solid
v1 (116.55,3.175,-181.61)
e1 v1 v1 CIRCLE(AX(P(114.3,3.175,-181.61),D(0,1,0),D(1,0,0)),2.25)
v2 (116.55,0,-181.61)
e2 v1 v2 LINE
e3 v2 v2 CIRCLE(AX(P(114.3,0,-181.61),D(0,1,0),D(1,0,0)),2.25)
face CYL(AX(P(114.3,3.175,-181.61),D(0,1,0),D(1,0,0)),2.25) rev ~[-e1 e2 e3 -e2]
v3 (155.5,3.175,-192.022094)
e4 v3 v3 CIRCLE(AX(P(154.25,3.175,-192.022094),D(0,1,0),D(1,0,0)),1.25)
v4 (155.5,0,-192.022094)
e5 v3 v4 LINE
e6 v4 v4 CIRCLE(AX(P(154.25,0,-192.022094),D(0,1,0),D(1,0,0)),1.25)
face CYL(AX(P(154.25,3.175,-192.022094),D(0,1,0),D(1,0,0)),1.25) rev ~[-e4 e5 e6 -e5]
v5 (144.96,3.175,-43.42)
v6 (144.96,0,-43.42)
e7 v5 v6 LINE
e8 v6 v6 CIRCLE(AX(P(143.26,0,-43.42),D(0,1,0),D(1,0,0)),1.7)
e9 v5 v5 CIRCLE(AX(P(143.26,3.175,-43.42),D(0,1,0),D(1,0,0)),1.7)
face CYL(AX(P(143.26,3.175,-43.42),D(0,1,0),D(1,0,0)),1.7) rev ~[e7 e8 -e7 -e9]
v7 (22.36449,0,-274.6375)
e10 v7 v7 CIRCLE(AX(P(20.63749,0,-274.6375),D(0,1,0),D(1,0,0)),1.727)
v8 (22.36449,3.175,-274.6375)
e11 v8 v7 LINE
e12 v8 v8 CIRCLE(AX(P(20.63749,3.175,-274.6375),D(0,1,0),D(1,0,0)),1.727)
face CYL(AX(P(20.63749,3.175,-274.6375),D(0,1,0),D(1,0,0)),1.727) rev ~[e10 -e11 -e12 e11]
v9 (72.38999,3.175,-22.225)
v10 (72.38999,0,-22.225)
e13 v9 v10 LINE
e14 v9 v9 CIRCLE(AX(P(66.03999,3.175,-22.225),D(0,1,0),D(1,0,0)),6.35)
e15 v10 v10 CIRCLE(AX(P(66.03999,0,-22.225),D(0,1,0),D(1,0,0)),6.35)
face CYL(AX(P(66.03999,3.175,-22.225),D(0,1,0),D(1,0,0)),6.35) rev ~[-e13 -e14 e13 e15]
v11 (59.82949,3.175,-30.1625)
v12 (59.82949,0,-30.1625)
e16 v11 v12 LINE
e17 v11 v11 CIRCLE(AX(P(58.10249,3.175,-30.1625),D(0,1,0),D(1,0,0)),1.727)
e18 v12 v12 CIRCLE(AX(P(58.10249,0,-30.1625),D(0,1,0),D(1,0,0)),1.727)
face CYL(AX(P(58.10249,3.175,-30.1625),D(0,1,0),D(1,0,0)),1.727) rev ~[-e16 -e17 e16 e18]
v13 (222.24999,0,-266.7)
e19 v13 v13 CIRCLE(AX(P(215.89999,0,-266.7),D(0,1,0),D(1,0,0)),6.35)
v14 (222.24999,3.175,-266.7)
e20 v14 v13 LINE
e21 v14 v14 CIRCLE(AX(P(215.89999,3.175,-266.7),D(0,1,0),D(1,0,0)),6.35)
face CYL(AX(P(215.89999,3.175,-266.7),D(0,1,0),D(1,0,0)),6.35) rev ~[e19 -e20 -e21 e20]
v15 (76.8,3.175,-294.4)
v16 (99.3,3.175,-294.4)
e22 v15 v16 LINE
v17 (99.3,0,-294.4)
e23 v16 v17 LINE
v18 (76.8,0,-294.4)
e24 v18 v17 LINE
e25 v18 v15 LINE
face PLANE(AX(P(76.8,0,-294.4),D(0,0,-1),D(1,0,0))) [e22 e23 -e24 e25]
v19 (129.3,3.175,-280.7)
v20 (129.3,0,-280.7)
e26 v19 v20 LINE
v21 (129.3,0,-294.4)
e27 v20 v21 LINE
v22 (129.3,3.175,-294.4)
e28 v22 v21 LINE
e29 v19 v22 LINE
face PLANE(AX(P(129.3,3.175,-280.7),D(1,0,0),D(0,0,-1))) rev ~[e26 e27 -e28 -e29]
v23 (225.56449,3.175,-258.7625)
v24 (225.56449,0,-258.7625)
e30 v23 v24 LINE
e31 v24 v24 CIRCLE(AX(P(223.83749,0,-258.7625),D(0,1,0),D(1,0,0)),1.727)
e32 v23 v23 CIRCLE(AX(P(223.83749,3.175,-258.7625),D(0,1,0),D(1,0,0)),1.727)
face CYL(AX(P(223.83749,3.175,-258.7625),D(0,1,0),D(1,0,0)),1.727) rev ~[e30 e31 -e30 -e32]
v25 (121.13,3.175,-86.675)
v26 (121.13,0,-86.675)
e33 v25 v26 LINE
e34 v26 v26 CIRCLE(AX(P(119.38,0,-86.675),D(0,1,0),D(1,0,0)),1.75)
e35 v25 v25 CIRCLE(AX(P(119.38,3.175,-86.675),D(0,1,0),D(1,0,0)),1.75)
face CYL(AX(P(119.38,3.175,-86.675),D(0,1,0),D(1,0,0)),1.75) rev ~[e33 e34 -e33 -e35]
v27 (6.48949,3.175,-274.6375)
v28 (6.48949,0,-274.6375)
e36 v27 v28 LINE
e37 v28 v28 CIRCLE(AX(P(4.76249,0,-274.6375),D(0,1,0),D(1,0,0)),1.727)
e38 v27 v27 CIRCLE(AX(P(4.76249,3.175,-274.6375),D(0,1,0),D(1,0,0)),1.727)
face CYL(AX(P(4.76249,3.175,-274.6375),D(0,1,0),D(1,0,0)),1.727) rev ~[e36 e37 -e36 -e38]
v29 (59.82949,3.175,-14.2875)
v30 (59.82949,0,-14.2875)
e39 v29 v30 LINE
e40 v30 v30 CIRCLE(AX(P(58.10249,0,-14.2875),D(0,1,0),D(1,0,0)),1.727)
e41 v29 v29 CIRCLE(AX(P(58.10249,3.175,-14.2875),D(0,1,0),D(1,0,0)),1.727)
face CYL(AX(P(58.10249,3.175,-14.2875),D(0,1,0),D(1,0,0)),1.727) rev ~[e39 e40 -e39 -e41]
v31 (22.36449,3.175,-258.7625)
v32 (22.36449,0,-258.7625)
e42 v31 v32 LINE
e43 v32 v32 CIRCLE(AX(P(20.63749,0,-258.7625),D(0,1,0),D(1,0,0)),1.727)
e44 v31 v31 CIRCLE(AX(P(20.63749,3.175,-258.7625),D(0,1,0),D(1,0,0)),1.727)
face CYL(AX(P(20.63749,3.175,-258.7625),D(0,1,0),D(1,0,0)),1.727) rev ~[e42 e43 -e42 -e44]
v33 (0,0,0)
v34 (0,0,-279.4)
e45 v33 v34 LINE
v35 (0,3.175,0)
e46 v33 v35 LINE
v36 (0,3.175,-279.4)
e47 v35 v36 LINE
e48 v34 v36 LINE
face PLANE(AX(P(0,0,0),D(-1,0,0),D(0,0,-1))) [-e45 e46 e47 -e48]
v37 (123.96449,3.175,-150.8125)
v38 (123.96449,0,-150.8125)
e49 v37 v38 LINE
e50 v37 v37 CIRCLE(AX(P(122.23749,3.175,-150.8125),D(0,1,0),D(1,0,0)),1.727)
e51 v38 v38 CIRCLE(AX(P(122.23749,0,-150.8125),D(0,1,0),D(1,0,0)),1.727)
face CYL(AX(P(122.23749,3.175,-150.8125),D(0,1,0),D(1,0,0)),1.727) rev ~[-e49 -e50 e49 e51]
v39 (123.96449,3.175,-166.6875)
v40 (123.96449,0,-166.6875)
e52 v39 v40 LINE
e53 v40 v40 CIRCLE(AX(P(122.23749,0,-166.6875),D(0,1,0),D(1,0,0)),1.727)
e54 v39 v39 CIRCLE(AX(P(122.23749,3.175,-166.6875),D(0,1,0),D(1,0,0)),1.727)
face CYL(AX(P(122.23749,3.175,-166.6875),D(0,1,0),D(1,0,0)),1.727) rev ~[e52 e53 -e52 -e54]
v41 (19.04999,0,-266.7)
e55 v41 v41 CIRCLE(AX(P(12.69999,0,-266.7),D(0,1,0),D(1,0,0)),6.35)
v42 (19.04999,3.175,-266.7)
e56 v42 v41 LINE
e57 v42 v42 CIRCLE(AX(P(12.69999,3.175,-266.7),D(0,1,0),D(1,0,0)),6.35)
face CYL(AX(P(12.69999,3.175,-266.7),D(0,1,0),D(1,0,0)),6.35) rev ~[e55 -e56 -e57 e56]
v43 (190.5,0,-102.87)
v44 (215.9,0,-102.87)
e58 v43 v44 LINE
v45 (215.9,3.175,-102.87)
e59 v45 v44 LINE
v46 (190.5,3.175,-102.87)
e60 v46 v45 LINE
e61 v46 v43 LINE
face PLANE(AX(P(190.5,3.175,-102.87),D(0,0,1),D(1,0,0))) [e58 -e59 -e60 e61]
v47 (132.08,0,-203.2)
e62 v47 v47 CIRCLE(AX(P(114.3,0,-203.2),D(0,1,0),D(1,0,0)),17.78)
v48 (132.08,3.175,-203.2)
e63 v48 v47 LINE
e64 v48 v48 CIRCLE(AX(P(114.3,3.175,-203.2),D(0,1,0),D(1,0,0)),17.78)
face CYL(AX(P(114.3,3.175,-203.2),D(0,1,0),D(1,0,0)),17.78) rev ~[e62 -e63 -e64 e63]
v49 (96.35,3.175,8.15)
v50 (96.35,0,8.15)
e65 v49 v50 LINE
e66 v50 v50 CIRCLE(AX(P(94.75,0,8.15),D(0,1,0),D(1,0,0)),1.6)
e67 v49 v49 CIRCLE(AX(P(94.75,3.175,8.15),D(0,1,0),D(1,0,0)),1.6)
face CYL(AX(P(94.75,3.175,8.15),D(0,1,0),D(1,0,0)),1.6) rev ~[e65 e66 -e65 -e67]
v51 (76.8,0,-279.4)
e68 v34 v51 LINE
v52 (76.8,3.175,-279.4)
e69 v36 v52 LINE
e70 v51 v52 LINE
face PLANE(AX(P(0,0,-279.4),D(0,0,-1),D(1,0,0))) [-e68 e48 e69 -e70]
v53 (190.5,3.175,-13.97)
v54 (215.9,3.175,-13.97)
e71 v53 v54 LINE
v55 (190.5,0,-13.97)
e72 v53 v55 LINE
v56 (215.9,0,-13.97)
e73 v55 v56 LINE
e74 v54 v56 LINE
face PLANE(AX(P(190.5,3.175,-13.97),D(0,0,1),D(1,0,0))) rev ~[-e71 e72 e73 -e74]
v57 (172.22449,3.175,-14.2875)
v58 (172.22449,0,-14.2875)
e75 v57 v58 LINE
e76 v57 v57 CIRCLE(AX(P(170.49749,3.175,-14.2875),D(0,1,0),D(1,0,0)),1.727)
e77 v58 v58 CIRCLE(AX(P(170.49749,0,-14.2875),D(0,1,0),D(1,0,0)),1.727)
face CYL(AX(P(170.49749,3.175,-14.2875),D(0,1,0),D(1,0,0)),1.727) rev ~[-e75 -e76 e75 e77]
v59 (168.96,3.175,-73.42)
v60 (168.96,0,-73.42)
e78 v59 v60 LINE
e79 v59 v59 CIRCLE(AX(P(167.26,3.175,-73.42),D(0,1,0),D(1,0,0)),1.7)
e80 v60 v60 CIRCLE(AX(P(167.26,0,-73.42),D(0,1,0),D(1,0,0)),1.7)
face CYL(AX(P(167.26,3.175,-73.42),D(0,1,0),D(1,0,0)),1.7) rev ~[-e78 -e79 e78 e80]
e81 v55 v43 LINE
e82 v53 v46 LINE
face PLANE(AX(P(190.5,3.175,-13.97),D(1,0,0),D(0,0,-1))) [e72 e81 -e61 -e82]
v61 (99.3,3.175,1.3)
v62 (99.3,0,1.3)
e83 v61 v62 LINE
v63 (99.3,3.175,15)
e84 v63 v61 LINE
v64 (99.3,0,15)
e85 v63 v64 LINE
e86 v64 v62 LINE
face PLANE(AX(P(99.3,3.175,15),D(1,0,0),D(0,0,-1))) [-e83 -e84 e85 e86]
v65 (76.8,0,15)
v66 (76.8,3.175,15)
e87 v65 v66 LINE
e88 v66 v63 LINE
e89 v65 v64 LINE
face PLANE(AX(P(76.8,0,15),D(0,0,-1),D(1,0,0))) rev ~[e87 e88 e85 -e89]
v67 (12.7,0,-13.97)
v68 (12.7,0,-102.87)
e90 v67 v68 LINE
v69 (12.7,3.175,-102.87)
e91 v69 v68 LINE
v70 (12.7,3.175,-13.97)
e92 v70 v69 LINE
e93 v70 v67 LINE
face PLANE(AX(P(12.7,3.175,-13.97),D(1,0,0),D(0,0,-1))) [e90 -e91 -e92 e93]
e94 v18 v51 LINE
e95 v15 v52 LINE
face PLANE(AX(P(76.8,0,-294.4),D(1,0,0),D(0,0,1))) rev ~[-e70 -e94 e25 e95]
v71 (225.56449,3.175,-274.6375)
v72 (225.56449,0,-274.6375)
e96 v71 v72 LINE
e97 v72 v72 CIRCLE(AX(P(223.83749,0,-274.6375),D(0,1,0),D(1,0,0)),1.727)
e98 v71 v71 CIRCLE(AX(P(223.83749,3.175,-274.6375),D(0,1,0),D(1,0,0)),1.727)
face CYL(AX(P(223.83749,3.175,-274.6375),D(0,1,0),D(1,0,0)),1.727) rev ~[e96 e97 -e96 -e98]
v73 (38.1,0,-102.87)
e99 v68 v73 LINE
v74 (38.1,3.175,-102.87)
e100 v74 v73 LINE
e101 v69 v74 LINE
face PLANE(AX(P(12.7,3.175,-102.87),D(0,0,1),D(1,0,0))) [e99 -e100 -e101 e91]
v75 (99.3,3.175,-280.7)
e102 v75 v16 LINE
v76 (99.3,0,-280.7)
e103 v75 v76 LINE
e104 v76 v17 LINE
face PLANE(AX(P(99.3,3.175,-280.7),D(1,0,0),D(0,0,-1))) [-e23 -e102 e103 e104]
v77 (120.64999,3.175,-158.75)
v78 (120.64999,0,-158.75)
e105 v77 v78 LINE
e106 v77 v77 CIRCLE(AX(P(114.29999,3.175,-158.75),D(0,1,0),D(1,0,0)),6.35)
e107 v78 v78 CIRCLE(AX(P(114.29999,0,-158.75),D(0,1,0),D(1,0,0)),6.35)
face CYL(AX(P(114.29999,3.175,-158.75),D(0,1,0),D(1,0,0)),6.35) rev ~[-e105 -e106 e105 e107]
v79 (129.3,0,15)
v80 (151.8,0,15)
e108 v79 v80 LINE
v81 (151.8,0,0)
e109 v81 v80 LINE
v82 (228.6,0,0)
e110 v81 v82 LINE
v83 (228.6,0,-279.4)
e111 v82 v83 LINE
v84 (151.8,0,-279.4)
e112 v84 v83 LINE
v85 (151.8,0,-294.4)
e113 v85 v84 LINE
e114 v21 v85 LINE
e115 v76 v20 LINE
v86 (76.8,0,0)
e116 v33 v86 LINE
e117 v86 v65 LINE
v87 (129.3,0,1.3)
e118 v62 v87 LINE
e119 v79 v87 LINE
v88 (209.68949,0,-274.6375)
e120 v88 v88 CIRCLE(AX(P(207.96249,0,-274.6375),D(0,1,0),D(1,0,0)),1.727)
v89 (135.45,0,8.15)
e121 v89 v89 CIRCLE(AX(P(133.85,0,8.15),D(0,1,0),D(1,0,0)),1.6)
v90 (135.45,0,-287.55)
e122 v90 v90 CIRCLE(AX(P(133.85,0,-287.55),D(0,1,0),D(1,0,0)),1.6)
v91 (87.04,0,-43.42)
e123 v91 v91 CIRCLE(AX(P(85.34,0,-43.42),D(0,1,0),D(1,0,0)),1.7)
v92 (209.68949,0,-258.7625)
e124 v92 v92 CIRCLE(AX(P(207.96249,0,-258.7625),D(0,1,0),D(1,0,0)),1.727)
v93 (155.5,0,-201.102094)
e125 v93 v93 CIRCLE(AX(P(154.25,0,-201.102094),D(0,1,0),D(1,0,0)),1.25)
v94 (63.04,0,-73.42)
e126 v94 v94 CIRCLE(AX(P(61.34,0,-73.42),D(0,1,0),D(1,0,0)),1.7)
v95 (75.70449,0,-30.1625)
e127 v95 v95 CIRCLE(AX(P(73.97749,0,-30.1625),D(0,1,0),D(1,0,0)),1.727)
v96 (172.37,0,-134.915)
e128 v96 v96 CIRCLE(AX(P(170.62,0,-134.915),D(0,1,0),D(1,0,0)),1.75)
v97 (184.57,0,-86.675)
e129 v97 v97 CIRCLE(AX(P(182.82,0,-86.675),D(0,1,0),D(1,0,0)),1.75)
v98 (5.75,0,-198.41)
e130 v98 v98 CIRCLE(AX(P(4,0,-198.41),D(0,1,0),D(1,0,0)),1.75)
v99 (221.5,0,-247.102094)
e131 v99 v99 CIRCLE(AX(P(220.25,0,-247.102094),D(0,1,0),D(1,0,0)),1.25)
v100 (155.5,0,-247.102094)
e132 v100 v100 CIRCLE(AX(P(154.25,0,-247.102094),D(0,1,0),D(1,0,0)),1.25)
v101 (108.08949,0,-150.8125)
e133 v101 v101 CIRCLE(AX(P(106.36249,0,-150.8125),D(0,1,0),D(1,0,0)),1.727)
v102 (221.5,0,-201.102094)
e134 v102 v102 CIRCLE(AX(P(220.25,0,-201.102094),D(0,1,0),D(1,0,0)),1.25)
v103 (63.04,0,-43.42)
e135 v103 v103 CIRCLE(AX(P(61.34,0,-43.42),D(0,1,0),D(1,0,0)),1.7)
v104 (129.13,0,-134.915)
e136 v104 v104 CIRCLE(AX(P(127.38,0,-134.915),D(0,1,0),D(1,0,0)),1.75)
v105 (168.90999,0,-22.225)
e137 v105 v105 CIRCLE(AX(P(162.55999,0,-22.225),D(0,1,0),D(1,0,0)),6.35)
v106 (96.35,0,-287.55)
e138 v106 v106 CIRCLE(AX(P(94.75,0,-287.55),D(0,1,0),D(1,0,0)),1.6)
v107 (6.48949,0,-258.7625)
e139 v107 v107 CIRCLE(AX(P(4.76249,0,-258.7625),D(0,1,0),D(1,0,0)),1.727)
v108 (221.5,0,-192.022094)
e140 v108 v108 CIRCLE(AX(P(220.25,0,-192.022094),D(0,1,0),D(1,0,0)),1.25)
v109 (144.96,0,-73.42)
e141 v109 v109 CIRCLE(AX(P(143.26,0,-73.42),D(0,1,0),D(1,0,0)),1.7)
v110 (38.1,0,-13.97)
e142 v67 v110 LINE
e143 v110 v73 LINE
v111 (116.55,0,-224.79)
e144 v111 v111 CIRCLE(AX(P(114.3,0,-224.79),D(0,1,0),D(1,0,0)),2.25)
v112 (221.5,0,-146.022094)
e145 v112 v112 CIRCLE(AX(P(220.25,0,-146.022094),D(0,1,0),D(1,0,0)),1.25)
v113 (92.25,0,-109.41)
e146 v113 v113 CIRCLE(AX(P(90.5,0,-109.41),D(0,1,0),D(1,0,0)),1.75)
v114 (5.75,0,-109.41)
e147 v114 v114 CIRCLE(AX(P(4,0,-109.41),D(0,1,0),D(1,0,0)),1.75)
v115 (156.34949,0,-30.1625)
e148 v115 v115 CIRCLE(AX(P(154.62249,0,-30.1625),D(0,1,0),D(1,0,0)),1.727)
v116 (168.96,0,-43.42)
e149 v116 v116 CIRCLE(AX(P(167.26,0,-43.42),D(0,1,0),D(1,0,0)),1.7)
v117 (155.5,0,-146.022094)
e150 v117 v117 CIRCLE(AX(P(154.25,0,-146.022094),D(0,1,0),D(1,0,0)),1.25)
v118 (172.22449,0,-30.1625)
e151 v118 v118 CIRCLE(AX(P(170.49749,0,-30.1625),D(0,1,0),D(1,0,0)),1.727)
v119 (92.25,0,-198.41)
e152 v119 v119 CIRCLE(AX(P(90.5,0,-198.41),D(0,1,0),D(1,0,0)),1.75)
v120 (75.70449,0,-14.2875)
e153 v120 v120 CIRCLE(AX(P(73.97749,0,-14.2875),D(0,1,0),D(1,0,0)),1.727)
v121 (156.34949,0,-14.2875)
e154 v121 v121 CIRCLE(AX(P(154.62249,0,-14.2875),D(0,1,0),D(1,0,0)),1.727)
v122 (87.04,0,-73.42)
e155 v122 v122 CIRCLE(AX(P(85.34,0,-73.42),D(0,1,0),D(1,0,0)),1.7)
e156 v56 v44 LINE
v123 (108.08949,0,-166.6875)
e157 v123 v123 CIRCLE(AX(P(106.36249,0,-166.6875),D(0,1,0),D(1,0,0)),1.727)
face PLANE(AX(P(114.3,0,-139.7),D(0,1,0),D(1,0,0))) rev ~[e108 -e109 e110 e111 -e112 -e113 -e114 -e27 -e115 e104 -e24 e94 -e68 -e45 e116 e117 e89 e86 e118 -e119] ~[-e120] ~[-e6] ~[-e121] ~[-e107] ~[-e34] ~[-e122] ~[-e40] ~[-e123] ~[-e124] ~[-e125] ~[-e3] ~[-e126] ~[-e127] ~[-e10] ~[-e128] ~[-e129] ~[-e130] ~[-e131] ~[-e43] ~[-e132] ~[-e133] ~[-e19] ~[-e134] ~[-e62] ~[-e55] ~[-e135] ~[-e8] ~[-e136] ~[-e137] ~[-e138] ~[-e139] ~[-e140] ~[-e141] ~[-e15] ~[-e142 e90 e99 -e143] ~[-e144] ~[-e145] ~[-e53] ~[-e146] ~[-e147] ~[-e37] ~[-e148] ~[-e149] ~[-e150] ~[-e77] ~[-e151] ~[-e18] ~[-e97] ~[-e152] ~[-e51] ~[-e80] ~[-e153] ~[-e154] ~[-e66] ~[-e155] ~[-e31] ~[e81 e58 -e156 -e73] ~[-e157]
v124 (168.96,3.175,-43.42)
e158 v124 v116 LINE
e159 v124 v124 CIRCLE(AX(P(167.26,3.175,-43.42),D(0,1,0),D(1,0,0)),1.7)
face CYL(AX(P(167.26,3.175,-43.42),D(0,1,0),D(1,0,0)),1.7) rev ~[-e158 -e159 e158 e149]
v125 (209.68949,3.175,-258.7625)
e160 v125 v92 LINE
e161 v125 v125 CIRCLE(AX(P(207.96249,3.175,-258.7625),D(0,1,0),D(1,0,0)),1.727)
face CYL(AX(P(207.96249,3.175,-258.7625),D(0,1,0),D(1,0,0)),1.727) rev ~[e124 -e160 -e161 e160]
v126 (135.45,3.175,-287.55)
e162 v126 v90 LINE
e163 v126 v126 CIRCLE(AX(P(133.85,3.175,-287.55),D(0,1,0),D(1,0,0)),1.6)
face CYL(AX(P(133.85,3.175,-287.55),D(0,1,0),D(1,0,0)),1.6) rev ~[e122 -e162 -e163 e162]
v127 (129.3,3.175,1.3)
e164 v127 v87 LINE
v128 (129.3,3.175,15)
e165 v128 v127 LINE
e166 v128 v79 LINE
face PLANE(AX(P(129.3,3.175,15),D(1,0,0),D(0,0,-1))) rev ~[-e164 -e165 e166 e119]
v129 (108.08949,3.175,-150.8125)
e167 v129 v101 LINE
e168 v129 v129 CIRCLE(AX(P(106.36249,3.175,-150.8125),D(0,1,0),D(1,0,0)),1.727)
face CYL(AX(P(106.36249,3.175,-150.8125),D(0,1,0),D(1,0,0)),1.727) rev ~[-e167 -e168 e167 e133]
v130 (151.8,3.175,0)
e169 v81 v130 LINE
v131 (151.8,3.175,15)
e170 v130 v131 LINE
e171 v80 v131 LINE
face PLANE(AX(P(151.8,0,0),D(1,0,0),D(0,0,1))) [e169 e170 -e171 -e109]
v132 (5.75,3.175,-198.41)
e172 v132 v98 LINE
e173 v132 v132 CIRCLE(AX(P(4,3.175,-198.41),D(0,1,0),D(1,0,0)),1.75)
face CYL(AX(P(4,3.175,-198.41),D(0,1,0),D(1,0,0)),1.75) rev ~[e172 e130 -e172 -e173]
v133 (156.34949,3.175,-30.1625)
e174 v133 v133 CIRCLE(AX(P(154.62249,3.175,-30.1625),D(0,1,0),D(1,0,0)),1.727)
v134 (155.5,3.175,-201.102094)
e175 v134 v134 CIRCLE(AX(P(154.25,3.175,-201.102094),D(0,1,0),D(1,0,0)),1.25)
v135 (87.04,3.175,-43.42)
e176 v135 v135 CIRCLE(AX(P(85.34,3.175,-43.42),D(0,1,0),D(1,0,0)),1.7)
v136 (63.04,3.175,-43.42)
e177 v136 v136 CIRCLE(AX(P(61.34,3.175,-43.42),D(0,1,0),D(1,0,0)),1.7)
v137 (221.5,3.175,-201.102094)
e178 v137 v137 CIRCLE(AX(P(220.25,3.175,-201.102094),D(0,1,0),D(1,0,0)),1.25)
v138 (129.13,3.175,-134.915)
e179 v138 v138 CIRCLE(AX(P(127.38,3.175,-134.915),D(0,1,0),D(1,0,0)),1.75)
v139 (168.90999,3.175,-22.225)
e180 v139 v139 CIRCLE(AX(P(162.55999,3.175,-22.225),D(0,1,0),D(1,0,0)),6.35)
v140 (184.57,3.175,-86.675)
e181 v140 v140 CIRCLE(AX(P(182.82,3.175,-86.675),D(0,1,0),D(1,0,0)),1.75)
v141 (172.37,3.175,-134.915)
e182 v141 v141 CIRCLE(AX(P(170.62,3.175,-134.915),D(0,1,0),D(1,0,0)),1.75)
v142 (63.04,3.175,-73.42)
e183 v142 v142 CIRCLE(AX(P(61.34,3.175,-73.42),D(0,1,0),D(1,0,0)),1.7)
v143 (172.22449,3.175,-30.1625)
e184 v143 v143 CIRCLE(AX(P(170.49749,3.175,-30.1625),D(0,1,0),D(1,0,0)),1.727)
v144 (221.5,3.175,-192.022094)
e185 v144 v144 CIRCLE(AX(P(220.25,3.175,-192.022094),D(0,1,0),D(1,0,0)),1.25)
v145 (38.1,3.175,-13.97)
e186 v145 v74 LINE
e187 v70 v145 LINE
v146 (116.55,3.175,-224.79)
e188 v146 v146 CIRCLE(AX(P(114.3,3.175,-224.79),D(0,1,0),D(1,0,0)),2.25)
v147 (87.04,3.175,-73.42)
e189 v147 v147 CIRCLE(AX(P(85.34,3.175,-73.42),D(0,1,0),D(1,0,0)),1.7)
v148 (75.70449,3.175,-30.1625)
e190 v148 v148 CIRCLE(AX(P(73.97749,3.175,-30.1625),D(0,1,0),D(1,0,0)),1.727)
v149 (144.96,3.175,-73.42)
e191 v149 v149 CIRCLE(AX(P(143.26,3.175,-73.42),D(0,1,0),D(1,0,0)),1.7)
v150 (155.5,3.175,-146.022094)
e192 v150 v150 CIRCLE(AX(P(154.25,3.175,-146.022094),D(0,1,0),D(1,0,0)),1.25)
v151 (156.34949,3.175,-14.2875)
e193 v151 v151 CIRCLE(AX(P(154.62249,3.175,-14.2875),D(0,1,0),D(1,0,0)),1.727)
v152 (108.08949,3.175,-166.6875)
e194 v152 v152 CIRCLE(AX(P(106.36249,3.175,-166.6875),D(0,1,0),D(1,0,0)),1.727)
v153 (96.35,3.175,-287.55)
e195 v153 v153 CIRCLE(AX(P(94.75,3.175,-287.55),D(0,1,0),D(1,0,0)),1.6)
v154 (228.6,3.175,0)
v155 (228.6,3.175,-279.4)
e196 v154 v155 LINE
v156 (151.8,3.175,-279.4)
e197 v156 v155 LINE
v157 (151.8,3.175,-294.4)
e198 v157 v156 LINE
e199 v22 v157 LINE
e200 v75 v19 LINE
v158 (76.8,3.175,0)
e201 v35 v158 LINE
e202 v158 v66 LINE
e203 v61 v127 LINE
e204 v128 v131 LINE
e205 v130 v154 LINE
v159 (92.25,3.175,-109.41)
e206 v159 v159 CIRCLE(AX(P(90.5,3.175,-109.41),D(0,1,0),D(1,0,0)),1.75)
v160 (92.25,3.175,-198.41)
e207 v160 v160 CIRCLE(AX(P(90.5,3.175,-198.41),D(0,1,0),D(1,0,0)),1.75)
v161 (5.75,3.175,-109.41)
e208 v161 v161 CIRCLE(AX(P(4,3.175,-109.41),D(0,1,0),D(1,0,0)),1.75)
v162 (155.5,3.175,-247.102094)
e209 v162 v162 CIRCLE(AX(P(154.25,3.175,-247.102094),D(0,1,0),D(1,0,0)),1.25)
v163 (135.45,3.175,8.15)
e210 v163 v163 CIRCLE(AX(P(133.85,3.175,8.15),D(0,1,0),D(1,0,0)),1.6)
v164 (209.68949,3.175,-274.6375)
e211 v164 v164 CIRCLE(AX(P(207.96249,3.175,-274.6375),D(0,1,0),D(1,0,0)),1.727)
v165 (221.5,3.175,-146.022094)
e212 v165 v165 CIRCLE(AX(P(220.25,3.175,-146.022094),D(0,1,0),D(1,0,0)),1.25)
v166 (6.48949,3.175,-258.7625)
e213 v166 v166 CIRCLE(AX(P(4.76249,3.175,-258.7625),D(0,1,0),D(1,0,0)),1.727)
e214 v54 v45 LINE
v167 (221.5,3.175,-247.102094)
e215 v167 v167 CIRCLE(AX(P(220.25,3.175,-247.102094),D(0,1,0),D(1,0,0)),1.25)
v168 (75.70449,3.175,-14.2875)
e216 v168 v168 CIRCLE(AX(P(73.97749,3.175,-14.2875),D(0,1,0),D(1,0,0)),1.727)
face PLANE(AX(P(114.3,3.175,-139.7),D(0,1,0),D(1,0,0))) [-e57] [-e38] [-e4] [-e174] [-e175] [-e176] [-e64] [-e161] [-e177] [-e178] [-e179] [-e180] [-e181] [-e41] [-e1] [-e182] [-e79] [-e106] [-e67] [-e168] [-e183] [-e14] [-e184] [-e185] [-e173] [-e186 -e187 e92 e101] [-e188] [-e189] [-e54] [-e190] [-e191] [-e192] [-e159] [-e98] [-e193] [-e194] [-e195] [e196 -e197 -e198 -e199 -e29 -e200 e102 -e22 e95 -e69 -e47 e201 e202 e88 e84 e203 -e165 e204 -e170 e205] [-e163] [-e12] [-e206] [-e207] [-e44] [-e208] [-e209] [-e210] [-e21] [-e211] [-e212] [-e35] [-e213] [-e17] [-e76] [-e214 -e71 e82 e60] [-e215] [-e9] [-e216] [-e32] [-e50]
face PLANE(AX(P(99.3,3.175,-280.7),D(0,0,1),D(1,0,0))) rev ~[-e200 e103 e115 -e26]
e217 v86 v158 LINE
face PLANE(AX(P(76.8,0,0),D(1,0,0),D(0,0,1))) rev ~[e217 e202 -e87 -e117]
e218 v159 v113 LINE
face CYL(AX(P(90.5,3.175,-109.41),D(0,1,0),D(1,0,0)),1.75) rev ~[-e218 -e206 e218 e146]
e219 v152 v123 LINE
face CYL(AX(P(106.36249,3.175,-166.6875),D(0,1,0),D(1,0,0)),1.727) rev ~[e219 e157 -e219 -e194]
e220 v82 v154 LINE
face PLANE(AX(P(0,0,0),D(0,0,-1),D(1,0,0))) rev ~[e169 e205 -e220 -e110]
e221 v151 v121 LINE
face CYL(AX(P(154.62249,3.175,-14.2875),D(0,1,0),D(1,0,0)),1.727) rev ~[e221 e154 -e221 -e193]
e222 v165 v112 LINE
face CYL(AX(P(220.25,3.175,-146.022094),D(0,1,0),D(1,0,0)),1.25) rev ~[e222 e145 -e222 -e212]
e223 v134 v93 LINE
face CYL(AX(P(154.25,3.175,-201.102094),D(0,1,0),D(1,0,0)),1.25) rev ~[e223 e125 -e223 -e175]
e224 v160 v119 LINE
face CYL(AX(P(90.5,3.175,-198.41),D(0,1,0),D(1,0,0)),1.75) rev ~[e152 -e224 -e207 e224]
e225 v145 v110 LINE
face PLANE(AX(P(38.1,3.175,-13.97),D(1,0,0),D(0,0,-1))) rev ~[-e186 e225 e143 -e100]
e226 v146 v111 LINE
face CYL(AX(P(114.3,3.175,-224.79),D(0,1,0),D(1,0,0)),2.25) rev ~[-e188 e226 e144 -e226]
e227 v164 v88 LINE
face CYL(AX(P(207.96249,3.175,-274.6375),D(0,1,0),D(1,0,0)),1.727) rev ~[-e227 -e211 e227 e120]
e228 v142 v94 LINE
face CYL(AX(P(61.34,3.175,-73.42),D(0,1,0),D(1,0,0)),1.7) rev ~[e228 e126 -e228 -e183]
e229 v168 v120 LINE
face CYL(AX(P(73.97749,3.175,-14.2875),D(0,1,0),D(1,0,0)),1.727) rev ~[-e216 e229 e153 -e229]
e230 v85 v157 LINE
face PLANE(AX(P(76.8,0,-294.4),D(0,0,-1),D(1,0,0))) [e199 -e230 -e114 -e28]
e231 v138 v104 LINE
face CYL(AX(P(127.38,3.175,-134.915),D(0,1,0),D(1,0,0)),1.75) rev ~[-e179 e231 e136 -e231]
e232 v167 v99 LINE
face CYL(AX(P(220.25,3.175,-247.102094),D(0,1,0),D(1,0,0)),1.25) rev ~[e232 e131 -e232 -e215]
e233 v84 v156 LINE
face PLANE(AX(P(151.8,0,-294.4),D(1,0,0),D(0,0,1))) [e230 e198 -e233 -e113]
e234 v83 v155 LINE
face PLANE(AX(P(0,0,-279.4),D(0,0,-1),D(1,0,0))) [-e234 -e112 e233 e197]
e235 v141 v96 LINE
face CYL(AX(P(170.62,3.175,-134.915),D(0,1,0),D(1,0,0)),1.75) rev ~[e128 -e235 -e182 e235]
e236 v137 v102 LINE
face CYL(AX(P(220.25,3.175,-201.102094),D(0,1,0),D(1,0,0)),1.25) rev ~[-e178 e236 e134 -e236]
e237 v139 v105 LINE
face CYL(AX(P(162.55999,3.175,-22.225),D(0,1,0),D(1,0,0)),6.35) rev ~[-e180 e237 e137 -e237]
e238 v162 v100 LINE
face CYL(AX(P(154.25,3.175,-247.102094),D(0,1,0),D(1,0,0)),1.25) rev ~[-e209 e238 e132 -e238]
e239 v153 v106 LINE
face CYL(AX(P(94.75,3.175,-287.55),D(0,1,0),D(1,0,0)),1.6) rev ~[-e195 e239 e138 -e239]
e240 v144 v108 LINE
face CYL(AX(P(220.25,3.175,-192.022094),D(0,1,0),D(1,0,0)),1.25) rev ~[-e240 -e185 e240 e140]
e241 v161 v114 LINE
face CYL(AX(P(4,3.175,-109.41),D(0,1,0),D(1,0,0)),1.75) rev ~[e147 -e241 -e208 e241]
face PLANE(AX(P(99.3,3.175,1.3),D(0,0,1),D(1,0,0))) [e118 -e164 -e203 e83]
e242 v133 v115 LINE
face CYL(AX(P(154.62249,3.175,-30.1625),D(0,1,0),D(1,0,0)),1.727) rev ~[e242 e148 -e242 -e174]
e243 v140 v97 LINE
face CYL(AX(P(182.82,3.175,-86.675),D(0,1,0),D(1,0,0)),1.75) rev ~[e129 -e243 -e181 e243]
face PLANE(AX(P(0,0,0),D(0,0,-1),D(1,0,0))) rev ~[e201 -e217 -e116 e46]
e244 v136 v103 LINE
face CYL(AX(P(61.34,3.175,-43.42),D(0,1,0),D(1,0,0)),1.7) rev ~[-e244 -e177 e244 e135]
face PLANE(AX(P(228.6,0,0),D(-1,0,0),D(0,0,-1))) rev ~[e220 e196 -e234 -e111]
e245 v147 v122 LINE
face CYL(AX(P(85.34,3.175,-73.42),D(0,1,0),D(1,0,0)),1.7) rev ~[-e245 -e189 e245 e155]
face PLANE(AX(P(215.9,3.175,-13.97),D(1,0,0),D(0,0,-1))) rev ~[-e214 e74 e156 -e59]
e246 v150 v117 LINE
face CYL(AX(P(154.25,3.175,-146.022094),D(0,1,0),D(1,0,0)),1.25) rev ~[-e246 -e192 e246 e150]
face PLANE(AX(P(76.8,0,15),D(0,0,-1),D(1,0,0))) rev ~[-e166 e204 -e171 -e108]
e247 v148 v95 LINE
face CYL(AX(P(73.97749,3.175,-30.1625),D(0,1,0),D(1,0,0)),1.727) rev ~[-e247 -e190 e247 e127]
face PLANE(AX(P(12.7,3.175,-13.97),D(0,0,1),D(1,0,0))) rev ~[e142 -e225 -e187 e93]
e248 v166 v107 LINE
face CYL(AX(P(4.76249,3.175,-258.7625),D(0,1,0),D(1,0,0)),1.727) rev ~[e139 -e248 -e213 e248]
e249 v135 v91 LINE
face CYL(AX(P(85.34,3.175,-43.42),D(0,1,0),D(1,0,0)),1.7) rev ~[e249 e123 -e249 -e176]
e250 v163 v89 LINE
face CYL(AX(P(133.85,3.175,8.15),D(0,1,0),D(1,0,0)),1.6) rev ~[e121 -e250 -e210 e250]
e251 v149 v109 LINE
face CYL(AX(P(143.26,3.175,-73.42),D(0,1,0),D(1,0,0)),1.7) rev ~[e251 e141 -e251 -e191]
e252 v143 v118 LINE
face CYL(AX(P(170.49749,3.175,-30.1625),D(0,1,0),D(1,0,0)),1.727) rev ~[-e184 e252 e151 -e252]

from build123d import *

# Parameters (mm, degrees)
SKETCH1_W               = 228.6
SKETCH1_H               = 279.4
BOSS_EXTRUDE1_DEPTH     = 3.175
SKETCH3_R               = 1.7
SKETCH3_W               = 25.4
SKETCH3_H               = 88.9
CUT_EXTRUDE1_DEPTH      = 4.175
SKETCH4_R               = 17.78
SKETCH4_R_2             = 2.25
CUT_EXTRUDE2_DEPTH      = 4.175
SKETCH5_R               = 1.75
CUT_EXTRUDE3_DEPTH      = 4.175
SKETCH6_R               = 1.25
CUT_EXTRUDE4_DEPTH      = 4.175
SKETCH7_R               = 1.75
CUT_EXTRUDE5_DEPTH      = 4.175
SKETCH8_R               = 1.726999975
SKETCH8_R_2             = 6.35
CUT_EXTRUDE6_DEPTH      = 1
CUT_EXTRUDE6_DEPTH_BACK = 4.175
SKETCH10_W              = 75.000000114
SKETCH10_H              = 14.999999972
BOSS_EXTRUDE2_DEPTH     = 3.175
SKETCH9_R               = 1.599999975
SKETCH9_W               = 29.999999944
SKETCH9_H               = 13.700000032
CUT_EXTRUDE7_DEPTH      = 1
CUT_EXTRUDE7_DEPTH_BACK = 4.175


with BuildPart() as part:
    # Sketch1 → Boss-Extrude1 (new body)
    with BuildSketch(Plane(origin=(0, 0, 0), x_dir=(1, 0, 0), z_dir=(0, 1, 0))):
        with Locations((114.3, 139.7)):
            Rectangle(SKETCH1_W, SKETCH1_H)
    extrude(amount=BOSS_EXTRUDE1_DEPTH)

    # Sketch3 → Cut-Extrude1 (cut, through all)
    with BuildSketch(Plane(origin=(0, 3.175, 0), x_dir=(1, 0, 0), z_dir=(0, 1, 0))):
        with Locations((85.34, 43.42)):
            Circle(SKETCH3_R)
        with Locations((61.34, 43.42)):
            Circle(SKETCH3_R)
        with Locations((85.34, 73.42)):
            Circle(SKETCH3_R)
        with Locations((61.34, 73.42)):
            Circle(SKETCH3_R)
        with Locations((167.26, 73.42)):
            Circle(SKETCH3_R)
        with Locations((143.26, 73.42)):
            Circle(SKETCH3_R)
        with Locations((167.26, 43.42)):
            Circle(SKETCH3_R)
        with Locations((143.26, 43.42)):
            Circle(SKETCH3_R)
        with Locations((203.2, 58.42)):
            Rectangle(SKETCH3_W, SKETCH3_H)
        with Locations((25.4, 58.42)):
            Rectangle(SKETCH3_W, SKETCH3_H)
    extrude(amount=-CUT_EXTRUDE1_DEPTH, mode=Mode.SUBTRACT)

    # Sketch4 → Cut-Extrude2 (cut, through all)
    with BuildSketch(Plane(origin=(0, 3.175, 0), x_dir=(1, 0, 0), z_dir=(0, 1, 0))):
        with Locations((114.3, 203.2)):
            Circle(SKETCH4_R)
        with Locations((114.3, 224.79)):
            Circle(SKETCH4_R_2)
        with Locations((114.3, 181.61)):
            Circle(SKETCH4_R_2)
    extrude(amount=-CUT_EXTRUDE2_DEPTH, mode=Mode.SUBTRACT)

    # Sketch5 → Cut-Extrude3 (cut, through all)
    with BuildSketch(Plane(origin=(0, 3.175, 0), x_dir=(1, 0, 0), z_dir=(0, 1, 0))):
        with Locations((90.5, 198.41)):
            Circle(SKETCH5_R)
        with Locations((90.5, 109.41)):
            Circle(SKETCH5_R)
        with Locations((4, 109.41)):
            Circle(SKETCH5_R)
        with Locations((4, 198.41)):
            Circle(SKETCH5_R)
    extrude(amount=-CUT_EXTRUDE3_DEPTH, mode=Mode.SUBTRACT)

    # Sketch6 → Cut-Extrude4 (cut, through all)
    with BuildSketch(Plane(origin=(0, 3.175, 0), x_dir=(1, 0, 0), z_dir=(0, 1, 0))):
        with Locations((154.25, 247.102093509)):
            Circle(SKETCH6_R)
        with Locations((220.25, 247.102093509)):
            Circle(SKETCH6_R)
        with Locations((220.25, 201.102093509)):
            Circle(SKETCH6_R)
        with Locations((154.25, 201.102093509)):
            Circle(SKETCH6_R)
        with Locations((220.25, 192.022093509)):
            Circle(SKETCH6_R)
        with Locations((220.25, 146.022093509)):
            Circle(SKETCH6_R)
        with Locations((154.25, 146.022093509)):
            Circle(SKETCH6_R)
        with Locations((154.25, 192.022093509)):
            Circle(SKETCH6_R)
    extrude(amount=-CUT_EXTRUDE4_DEPTH, mode=Mode.SUBTRACT)

    # Sketch7 → Cut-Extrude5 (cut, through all)
    with BuildSketch(Plane(origin=(0, 3.175, 0), x_dir=(1, 0, 0), z_dir=(0, 1, 0))):
        with Locations((127.38, 134.915)):
            Circle(SKETCH7_R)
        with Locations((170.62, 134.915)):
            Circle(SKETCH7_R)
        with Locations((119.38, 86.675)):
            Circle(SKETCH7_R)
        with Locations((182.82, 86.675)):
            Circle(SKETCH7_R)
    extrude(amount=-CUT_EXTRUDE5_DEPTH, mode=Mode.SUBTRACT)

    # Sketch8 → Cut-Extrude6 (cut, two sides)
    with BuildSketch(Plane(origin=(0, 3.175, 0), x_dir=(1, 0, 0), z_dir=(0, 1, 0))) as cut_extrude6_sk:
        with Locations((20.63749043, 258.7625)):
            Circle(SKETCH8_R)
        with Locations((4.76249043, 258.7625)):
            Circle(SKETCH8_R)
        with Locations((4.76249043, 274.6375)):
            Circle(SKETCH8_R)
        with Locations((20.63749043, 274.6375)):
            Circle(SKETCH8_R)
        with Locations((12.69999043, 266.7)):
            Circle(SKETCH8_R_2)
        with Locations((58.10249043, 14.2875)):
            Circle(SKETCH8_R)
        with Locations((73.97749043, 14.2875)):
            Circle(SKETCH8_R)
        with Locations((66.03999043, 22.225)):
            Circle(SKETCH8_R_2)
        with Locations((58.10249043, 30.1625)):
            Circle(SKETCH8_R)
        with Locations((73.97749043, 30.1625)):
            Circle(SKETCH8_R)
        with Locations((170.49749043, 14.2875)):
            Circle(SKETCH8_R)
        with Locations((154.62249043, 14.2875)):
            Circle(SKETCH8_R)
        with Locations((154.62249043, 30.1625)):
            Circle(SKETCH8_R)
        with Locations((170.49749043, 30.1625)):
            Circle(SKETCH8_R)
        with Locations((162.55999043, 22.225)):
            Circle(SKETCH8_R_2)
        with Locations((106.36249043, 150.8125)):
            Circle(SKETCH8_R)
        with Locations((122.23749043, 150.8125)):
            Circle(SKETCH8_R)
        with Locations((114.29999043, 158.75)):
            Circle(SKETCH8_R_2)
        with Locations((106.36249043, 166.6875)):
            Circle(SKETCH8_R)
        with Locations((122.23749043, 166.6875)):
            Circle(SKETCH8_R)
        with Locations((223.83749043, 258.7625)):
            Circle(SKETCH8_R)
        with Locations((207.96249043, 258.7625)):
            Circle(SKETCH8_R)
        with Locations((207.96249043, 274.6375)):
            Circle(SKETCH8_R)
        with Locations((223.83749043, 274.6375)):
            Circle(SKETCH8_R)
        with Locations((215.89999043, 266.7)):
            Circle(SKETCH8_R_2)
    extrude(amount=CUT_EXTRUDE6_DEPTH, mode=Mode.SUBTRACT)
    extrude(cut_extrude6_sk.sketch, amount=-CUT_EXTRUDE6_DEPTH_BACK, mode=Mode.SUBTRACT)

    # Sketch10 → Boss-Extrude2 (add)
    with BuildSketch(Plane.XZ):
        with Locations((114.3, 7.499999986)):
            Rectangle(SKETCH10_W, SKETCH10_H)
        with Locations((114.3, -286.899999986)):
            Rectangle(SKETCH10_W, SKETCH10_H)
    extrude(amount=-BOSS_EXTRUDE2_DEPTH)

    # Sketch9 → Cut-Extrude7 (cut, two sides)
    with BuildSketch(Plane(origin=(0, 3.175, 0), x_dir=(1, 0, 0), z_dir=(0, 1, 0))) as cut_extrude7_sk:
        with Locations((133.850000016, 287.549999984)):
            Circle(SKETCH9_R)
        with Locations((94.749999984, 287.549999984)):
            Circle(SKETCH9_R)
        with Locations((133.850000016, -8.149999984)):
            Circle(SKETCH9_R)
        with Locations((94.749999984, -8.149999984)):
            Circle(SKETCH9_R)
        with Locations((114.3, 287.549999984)):
            Rectangle(SKETCH9_W, SKETCH9_H)
        with Locations((114.3, -8.149999984)):
            Rectangle(SKETCH9_W, SKETCH9_H)
    extrude(amount=CUT_EXTRUDE7_DEPTH, mode=Mode.SUBTRACT)
    extrude(cut_extrude7_sk.sketch, amount=-CUT_EXTRUDE7_DEPTH_BACK, mode=Mode.SUBTRACT)


solid = part.part
